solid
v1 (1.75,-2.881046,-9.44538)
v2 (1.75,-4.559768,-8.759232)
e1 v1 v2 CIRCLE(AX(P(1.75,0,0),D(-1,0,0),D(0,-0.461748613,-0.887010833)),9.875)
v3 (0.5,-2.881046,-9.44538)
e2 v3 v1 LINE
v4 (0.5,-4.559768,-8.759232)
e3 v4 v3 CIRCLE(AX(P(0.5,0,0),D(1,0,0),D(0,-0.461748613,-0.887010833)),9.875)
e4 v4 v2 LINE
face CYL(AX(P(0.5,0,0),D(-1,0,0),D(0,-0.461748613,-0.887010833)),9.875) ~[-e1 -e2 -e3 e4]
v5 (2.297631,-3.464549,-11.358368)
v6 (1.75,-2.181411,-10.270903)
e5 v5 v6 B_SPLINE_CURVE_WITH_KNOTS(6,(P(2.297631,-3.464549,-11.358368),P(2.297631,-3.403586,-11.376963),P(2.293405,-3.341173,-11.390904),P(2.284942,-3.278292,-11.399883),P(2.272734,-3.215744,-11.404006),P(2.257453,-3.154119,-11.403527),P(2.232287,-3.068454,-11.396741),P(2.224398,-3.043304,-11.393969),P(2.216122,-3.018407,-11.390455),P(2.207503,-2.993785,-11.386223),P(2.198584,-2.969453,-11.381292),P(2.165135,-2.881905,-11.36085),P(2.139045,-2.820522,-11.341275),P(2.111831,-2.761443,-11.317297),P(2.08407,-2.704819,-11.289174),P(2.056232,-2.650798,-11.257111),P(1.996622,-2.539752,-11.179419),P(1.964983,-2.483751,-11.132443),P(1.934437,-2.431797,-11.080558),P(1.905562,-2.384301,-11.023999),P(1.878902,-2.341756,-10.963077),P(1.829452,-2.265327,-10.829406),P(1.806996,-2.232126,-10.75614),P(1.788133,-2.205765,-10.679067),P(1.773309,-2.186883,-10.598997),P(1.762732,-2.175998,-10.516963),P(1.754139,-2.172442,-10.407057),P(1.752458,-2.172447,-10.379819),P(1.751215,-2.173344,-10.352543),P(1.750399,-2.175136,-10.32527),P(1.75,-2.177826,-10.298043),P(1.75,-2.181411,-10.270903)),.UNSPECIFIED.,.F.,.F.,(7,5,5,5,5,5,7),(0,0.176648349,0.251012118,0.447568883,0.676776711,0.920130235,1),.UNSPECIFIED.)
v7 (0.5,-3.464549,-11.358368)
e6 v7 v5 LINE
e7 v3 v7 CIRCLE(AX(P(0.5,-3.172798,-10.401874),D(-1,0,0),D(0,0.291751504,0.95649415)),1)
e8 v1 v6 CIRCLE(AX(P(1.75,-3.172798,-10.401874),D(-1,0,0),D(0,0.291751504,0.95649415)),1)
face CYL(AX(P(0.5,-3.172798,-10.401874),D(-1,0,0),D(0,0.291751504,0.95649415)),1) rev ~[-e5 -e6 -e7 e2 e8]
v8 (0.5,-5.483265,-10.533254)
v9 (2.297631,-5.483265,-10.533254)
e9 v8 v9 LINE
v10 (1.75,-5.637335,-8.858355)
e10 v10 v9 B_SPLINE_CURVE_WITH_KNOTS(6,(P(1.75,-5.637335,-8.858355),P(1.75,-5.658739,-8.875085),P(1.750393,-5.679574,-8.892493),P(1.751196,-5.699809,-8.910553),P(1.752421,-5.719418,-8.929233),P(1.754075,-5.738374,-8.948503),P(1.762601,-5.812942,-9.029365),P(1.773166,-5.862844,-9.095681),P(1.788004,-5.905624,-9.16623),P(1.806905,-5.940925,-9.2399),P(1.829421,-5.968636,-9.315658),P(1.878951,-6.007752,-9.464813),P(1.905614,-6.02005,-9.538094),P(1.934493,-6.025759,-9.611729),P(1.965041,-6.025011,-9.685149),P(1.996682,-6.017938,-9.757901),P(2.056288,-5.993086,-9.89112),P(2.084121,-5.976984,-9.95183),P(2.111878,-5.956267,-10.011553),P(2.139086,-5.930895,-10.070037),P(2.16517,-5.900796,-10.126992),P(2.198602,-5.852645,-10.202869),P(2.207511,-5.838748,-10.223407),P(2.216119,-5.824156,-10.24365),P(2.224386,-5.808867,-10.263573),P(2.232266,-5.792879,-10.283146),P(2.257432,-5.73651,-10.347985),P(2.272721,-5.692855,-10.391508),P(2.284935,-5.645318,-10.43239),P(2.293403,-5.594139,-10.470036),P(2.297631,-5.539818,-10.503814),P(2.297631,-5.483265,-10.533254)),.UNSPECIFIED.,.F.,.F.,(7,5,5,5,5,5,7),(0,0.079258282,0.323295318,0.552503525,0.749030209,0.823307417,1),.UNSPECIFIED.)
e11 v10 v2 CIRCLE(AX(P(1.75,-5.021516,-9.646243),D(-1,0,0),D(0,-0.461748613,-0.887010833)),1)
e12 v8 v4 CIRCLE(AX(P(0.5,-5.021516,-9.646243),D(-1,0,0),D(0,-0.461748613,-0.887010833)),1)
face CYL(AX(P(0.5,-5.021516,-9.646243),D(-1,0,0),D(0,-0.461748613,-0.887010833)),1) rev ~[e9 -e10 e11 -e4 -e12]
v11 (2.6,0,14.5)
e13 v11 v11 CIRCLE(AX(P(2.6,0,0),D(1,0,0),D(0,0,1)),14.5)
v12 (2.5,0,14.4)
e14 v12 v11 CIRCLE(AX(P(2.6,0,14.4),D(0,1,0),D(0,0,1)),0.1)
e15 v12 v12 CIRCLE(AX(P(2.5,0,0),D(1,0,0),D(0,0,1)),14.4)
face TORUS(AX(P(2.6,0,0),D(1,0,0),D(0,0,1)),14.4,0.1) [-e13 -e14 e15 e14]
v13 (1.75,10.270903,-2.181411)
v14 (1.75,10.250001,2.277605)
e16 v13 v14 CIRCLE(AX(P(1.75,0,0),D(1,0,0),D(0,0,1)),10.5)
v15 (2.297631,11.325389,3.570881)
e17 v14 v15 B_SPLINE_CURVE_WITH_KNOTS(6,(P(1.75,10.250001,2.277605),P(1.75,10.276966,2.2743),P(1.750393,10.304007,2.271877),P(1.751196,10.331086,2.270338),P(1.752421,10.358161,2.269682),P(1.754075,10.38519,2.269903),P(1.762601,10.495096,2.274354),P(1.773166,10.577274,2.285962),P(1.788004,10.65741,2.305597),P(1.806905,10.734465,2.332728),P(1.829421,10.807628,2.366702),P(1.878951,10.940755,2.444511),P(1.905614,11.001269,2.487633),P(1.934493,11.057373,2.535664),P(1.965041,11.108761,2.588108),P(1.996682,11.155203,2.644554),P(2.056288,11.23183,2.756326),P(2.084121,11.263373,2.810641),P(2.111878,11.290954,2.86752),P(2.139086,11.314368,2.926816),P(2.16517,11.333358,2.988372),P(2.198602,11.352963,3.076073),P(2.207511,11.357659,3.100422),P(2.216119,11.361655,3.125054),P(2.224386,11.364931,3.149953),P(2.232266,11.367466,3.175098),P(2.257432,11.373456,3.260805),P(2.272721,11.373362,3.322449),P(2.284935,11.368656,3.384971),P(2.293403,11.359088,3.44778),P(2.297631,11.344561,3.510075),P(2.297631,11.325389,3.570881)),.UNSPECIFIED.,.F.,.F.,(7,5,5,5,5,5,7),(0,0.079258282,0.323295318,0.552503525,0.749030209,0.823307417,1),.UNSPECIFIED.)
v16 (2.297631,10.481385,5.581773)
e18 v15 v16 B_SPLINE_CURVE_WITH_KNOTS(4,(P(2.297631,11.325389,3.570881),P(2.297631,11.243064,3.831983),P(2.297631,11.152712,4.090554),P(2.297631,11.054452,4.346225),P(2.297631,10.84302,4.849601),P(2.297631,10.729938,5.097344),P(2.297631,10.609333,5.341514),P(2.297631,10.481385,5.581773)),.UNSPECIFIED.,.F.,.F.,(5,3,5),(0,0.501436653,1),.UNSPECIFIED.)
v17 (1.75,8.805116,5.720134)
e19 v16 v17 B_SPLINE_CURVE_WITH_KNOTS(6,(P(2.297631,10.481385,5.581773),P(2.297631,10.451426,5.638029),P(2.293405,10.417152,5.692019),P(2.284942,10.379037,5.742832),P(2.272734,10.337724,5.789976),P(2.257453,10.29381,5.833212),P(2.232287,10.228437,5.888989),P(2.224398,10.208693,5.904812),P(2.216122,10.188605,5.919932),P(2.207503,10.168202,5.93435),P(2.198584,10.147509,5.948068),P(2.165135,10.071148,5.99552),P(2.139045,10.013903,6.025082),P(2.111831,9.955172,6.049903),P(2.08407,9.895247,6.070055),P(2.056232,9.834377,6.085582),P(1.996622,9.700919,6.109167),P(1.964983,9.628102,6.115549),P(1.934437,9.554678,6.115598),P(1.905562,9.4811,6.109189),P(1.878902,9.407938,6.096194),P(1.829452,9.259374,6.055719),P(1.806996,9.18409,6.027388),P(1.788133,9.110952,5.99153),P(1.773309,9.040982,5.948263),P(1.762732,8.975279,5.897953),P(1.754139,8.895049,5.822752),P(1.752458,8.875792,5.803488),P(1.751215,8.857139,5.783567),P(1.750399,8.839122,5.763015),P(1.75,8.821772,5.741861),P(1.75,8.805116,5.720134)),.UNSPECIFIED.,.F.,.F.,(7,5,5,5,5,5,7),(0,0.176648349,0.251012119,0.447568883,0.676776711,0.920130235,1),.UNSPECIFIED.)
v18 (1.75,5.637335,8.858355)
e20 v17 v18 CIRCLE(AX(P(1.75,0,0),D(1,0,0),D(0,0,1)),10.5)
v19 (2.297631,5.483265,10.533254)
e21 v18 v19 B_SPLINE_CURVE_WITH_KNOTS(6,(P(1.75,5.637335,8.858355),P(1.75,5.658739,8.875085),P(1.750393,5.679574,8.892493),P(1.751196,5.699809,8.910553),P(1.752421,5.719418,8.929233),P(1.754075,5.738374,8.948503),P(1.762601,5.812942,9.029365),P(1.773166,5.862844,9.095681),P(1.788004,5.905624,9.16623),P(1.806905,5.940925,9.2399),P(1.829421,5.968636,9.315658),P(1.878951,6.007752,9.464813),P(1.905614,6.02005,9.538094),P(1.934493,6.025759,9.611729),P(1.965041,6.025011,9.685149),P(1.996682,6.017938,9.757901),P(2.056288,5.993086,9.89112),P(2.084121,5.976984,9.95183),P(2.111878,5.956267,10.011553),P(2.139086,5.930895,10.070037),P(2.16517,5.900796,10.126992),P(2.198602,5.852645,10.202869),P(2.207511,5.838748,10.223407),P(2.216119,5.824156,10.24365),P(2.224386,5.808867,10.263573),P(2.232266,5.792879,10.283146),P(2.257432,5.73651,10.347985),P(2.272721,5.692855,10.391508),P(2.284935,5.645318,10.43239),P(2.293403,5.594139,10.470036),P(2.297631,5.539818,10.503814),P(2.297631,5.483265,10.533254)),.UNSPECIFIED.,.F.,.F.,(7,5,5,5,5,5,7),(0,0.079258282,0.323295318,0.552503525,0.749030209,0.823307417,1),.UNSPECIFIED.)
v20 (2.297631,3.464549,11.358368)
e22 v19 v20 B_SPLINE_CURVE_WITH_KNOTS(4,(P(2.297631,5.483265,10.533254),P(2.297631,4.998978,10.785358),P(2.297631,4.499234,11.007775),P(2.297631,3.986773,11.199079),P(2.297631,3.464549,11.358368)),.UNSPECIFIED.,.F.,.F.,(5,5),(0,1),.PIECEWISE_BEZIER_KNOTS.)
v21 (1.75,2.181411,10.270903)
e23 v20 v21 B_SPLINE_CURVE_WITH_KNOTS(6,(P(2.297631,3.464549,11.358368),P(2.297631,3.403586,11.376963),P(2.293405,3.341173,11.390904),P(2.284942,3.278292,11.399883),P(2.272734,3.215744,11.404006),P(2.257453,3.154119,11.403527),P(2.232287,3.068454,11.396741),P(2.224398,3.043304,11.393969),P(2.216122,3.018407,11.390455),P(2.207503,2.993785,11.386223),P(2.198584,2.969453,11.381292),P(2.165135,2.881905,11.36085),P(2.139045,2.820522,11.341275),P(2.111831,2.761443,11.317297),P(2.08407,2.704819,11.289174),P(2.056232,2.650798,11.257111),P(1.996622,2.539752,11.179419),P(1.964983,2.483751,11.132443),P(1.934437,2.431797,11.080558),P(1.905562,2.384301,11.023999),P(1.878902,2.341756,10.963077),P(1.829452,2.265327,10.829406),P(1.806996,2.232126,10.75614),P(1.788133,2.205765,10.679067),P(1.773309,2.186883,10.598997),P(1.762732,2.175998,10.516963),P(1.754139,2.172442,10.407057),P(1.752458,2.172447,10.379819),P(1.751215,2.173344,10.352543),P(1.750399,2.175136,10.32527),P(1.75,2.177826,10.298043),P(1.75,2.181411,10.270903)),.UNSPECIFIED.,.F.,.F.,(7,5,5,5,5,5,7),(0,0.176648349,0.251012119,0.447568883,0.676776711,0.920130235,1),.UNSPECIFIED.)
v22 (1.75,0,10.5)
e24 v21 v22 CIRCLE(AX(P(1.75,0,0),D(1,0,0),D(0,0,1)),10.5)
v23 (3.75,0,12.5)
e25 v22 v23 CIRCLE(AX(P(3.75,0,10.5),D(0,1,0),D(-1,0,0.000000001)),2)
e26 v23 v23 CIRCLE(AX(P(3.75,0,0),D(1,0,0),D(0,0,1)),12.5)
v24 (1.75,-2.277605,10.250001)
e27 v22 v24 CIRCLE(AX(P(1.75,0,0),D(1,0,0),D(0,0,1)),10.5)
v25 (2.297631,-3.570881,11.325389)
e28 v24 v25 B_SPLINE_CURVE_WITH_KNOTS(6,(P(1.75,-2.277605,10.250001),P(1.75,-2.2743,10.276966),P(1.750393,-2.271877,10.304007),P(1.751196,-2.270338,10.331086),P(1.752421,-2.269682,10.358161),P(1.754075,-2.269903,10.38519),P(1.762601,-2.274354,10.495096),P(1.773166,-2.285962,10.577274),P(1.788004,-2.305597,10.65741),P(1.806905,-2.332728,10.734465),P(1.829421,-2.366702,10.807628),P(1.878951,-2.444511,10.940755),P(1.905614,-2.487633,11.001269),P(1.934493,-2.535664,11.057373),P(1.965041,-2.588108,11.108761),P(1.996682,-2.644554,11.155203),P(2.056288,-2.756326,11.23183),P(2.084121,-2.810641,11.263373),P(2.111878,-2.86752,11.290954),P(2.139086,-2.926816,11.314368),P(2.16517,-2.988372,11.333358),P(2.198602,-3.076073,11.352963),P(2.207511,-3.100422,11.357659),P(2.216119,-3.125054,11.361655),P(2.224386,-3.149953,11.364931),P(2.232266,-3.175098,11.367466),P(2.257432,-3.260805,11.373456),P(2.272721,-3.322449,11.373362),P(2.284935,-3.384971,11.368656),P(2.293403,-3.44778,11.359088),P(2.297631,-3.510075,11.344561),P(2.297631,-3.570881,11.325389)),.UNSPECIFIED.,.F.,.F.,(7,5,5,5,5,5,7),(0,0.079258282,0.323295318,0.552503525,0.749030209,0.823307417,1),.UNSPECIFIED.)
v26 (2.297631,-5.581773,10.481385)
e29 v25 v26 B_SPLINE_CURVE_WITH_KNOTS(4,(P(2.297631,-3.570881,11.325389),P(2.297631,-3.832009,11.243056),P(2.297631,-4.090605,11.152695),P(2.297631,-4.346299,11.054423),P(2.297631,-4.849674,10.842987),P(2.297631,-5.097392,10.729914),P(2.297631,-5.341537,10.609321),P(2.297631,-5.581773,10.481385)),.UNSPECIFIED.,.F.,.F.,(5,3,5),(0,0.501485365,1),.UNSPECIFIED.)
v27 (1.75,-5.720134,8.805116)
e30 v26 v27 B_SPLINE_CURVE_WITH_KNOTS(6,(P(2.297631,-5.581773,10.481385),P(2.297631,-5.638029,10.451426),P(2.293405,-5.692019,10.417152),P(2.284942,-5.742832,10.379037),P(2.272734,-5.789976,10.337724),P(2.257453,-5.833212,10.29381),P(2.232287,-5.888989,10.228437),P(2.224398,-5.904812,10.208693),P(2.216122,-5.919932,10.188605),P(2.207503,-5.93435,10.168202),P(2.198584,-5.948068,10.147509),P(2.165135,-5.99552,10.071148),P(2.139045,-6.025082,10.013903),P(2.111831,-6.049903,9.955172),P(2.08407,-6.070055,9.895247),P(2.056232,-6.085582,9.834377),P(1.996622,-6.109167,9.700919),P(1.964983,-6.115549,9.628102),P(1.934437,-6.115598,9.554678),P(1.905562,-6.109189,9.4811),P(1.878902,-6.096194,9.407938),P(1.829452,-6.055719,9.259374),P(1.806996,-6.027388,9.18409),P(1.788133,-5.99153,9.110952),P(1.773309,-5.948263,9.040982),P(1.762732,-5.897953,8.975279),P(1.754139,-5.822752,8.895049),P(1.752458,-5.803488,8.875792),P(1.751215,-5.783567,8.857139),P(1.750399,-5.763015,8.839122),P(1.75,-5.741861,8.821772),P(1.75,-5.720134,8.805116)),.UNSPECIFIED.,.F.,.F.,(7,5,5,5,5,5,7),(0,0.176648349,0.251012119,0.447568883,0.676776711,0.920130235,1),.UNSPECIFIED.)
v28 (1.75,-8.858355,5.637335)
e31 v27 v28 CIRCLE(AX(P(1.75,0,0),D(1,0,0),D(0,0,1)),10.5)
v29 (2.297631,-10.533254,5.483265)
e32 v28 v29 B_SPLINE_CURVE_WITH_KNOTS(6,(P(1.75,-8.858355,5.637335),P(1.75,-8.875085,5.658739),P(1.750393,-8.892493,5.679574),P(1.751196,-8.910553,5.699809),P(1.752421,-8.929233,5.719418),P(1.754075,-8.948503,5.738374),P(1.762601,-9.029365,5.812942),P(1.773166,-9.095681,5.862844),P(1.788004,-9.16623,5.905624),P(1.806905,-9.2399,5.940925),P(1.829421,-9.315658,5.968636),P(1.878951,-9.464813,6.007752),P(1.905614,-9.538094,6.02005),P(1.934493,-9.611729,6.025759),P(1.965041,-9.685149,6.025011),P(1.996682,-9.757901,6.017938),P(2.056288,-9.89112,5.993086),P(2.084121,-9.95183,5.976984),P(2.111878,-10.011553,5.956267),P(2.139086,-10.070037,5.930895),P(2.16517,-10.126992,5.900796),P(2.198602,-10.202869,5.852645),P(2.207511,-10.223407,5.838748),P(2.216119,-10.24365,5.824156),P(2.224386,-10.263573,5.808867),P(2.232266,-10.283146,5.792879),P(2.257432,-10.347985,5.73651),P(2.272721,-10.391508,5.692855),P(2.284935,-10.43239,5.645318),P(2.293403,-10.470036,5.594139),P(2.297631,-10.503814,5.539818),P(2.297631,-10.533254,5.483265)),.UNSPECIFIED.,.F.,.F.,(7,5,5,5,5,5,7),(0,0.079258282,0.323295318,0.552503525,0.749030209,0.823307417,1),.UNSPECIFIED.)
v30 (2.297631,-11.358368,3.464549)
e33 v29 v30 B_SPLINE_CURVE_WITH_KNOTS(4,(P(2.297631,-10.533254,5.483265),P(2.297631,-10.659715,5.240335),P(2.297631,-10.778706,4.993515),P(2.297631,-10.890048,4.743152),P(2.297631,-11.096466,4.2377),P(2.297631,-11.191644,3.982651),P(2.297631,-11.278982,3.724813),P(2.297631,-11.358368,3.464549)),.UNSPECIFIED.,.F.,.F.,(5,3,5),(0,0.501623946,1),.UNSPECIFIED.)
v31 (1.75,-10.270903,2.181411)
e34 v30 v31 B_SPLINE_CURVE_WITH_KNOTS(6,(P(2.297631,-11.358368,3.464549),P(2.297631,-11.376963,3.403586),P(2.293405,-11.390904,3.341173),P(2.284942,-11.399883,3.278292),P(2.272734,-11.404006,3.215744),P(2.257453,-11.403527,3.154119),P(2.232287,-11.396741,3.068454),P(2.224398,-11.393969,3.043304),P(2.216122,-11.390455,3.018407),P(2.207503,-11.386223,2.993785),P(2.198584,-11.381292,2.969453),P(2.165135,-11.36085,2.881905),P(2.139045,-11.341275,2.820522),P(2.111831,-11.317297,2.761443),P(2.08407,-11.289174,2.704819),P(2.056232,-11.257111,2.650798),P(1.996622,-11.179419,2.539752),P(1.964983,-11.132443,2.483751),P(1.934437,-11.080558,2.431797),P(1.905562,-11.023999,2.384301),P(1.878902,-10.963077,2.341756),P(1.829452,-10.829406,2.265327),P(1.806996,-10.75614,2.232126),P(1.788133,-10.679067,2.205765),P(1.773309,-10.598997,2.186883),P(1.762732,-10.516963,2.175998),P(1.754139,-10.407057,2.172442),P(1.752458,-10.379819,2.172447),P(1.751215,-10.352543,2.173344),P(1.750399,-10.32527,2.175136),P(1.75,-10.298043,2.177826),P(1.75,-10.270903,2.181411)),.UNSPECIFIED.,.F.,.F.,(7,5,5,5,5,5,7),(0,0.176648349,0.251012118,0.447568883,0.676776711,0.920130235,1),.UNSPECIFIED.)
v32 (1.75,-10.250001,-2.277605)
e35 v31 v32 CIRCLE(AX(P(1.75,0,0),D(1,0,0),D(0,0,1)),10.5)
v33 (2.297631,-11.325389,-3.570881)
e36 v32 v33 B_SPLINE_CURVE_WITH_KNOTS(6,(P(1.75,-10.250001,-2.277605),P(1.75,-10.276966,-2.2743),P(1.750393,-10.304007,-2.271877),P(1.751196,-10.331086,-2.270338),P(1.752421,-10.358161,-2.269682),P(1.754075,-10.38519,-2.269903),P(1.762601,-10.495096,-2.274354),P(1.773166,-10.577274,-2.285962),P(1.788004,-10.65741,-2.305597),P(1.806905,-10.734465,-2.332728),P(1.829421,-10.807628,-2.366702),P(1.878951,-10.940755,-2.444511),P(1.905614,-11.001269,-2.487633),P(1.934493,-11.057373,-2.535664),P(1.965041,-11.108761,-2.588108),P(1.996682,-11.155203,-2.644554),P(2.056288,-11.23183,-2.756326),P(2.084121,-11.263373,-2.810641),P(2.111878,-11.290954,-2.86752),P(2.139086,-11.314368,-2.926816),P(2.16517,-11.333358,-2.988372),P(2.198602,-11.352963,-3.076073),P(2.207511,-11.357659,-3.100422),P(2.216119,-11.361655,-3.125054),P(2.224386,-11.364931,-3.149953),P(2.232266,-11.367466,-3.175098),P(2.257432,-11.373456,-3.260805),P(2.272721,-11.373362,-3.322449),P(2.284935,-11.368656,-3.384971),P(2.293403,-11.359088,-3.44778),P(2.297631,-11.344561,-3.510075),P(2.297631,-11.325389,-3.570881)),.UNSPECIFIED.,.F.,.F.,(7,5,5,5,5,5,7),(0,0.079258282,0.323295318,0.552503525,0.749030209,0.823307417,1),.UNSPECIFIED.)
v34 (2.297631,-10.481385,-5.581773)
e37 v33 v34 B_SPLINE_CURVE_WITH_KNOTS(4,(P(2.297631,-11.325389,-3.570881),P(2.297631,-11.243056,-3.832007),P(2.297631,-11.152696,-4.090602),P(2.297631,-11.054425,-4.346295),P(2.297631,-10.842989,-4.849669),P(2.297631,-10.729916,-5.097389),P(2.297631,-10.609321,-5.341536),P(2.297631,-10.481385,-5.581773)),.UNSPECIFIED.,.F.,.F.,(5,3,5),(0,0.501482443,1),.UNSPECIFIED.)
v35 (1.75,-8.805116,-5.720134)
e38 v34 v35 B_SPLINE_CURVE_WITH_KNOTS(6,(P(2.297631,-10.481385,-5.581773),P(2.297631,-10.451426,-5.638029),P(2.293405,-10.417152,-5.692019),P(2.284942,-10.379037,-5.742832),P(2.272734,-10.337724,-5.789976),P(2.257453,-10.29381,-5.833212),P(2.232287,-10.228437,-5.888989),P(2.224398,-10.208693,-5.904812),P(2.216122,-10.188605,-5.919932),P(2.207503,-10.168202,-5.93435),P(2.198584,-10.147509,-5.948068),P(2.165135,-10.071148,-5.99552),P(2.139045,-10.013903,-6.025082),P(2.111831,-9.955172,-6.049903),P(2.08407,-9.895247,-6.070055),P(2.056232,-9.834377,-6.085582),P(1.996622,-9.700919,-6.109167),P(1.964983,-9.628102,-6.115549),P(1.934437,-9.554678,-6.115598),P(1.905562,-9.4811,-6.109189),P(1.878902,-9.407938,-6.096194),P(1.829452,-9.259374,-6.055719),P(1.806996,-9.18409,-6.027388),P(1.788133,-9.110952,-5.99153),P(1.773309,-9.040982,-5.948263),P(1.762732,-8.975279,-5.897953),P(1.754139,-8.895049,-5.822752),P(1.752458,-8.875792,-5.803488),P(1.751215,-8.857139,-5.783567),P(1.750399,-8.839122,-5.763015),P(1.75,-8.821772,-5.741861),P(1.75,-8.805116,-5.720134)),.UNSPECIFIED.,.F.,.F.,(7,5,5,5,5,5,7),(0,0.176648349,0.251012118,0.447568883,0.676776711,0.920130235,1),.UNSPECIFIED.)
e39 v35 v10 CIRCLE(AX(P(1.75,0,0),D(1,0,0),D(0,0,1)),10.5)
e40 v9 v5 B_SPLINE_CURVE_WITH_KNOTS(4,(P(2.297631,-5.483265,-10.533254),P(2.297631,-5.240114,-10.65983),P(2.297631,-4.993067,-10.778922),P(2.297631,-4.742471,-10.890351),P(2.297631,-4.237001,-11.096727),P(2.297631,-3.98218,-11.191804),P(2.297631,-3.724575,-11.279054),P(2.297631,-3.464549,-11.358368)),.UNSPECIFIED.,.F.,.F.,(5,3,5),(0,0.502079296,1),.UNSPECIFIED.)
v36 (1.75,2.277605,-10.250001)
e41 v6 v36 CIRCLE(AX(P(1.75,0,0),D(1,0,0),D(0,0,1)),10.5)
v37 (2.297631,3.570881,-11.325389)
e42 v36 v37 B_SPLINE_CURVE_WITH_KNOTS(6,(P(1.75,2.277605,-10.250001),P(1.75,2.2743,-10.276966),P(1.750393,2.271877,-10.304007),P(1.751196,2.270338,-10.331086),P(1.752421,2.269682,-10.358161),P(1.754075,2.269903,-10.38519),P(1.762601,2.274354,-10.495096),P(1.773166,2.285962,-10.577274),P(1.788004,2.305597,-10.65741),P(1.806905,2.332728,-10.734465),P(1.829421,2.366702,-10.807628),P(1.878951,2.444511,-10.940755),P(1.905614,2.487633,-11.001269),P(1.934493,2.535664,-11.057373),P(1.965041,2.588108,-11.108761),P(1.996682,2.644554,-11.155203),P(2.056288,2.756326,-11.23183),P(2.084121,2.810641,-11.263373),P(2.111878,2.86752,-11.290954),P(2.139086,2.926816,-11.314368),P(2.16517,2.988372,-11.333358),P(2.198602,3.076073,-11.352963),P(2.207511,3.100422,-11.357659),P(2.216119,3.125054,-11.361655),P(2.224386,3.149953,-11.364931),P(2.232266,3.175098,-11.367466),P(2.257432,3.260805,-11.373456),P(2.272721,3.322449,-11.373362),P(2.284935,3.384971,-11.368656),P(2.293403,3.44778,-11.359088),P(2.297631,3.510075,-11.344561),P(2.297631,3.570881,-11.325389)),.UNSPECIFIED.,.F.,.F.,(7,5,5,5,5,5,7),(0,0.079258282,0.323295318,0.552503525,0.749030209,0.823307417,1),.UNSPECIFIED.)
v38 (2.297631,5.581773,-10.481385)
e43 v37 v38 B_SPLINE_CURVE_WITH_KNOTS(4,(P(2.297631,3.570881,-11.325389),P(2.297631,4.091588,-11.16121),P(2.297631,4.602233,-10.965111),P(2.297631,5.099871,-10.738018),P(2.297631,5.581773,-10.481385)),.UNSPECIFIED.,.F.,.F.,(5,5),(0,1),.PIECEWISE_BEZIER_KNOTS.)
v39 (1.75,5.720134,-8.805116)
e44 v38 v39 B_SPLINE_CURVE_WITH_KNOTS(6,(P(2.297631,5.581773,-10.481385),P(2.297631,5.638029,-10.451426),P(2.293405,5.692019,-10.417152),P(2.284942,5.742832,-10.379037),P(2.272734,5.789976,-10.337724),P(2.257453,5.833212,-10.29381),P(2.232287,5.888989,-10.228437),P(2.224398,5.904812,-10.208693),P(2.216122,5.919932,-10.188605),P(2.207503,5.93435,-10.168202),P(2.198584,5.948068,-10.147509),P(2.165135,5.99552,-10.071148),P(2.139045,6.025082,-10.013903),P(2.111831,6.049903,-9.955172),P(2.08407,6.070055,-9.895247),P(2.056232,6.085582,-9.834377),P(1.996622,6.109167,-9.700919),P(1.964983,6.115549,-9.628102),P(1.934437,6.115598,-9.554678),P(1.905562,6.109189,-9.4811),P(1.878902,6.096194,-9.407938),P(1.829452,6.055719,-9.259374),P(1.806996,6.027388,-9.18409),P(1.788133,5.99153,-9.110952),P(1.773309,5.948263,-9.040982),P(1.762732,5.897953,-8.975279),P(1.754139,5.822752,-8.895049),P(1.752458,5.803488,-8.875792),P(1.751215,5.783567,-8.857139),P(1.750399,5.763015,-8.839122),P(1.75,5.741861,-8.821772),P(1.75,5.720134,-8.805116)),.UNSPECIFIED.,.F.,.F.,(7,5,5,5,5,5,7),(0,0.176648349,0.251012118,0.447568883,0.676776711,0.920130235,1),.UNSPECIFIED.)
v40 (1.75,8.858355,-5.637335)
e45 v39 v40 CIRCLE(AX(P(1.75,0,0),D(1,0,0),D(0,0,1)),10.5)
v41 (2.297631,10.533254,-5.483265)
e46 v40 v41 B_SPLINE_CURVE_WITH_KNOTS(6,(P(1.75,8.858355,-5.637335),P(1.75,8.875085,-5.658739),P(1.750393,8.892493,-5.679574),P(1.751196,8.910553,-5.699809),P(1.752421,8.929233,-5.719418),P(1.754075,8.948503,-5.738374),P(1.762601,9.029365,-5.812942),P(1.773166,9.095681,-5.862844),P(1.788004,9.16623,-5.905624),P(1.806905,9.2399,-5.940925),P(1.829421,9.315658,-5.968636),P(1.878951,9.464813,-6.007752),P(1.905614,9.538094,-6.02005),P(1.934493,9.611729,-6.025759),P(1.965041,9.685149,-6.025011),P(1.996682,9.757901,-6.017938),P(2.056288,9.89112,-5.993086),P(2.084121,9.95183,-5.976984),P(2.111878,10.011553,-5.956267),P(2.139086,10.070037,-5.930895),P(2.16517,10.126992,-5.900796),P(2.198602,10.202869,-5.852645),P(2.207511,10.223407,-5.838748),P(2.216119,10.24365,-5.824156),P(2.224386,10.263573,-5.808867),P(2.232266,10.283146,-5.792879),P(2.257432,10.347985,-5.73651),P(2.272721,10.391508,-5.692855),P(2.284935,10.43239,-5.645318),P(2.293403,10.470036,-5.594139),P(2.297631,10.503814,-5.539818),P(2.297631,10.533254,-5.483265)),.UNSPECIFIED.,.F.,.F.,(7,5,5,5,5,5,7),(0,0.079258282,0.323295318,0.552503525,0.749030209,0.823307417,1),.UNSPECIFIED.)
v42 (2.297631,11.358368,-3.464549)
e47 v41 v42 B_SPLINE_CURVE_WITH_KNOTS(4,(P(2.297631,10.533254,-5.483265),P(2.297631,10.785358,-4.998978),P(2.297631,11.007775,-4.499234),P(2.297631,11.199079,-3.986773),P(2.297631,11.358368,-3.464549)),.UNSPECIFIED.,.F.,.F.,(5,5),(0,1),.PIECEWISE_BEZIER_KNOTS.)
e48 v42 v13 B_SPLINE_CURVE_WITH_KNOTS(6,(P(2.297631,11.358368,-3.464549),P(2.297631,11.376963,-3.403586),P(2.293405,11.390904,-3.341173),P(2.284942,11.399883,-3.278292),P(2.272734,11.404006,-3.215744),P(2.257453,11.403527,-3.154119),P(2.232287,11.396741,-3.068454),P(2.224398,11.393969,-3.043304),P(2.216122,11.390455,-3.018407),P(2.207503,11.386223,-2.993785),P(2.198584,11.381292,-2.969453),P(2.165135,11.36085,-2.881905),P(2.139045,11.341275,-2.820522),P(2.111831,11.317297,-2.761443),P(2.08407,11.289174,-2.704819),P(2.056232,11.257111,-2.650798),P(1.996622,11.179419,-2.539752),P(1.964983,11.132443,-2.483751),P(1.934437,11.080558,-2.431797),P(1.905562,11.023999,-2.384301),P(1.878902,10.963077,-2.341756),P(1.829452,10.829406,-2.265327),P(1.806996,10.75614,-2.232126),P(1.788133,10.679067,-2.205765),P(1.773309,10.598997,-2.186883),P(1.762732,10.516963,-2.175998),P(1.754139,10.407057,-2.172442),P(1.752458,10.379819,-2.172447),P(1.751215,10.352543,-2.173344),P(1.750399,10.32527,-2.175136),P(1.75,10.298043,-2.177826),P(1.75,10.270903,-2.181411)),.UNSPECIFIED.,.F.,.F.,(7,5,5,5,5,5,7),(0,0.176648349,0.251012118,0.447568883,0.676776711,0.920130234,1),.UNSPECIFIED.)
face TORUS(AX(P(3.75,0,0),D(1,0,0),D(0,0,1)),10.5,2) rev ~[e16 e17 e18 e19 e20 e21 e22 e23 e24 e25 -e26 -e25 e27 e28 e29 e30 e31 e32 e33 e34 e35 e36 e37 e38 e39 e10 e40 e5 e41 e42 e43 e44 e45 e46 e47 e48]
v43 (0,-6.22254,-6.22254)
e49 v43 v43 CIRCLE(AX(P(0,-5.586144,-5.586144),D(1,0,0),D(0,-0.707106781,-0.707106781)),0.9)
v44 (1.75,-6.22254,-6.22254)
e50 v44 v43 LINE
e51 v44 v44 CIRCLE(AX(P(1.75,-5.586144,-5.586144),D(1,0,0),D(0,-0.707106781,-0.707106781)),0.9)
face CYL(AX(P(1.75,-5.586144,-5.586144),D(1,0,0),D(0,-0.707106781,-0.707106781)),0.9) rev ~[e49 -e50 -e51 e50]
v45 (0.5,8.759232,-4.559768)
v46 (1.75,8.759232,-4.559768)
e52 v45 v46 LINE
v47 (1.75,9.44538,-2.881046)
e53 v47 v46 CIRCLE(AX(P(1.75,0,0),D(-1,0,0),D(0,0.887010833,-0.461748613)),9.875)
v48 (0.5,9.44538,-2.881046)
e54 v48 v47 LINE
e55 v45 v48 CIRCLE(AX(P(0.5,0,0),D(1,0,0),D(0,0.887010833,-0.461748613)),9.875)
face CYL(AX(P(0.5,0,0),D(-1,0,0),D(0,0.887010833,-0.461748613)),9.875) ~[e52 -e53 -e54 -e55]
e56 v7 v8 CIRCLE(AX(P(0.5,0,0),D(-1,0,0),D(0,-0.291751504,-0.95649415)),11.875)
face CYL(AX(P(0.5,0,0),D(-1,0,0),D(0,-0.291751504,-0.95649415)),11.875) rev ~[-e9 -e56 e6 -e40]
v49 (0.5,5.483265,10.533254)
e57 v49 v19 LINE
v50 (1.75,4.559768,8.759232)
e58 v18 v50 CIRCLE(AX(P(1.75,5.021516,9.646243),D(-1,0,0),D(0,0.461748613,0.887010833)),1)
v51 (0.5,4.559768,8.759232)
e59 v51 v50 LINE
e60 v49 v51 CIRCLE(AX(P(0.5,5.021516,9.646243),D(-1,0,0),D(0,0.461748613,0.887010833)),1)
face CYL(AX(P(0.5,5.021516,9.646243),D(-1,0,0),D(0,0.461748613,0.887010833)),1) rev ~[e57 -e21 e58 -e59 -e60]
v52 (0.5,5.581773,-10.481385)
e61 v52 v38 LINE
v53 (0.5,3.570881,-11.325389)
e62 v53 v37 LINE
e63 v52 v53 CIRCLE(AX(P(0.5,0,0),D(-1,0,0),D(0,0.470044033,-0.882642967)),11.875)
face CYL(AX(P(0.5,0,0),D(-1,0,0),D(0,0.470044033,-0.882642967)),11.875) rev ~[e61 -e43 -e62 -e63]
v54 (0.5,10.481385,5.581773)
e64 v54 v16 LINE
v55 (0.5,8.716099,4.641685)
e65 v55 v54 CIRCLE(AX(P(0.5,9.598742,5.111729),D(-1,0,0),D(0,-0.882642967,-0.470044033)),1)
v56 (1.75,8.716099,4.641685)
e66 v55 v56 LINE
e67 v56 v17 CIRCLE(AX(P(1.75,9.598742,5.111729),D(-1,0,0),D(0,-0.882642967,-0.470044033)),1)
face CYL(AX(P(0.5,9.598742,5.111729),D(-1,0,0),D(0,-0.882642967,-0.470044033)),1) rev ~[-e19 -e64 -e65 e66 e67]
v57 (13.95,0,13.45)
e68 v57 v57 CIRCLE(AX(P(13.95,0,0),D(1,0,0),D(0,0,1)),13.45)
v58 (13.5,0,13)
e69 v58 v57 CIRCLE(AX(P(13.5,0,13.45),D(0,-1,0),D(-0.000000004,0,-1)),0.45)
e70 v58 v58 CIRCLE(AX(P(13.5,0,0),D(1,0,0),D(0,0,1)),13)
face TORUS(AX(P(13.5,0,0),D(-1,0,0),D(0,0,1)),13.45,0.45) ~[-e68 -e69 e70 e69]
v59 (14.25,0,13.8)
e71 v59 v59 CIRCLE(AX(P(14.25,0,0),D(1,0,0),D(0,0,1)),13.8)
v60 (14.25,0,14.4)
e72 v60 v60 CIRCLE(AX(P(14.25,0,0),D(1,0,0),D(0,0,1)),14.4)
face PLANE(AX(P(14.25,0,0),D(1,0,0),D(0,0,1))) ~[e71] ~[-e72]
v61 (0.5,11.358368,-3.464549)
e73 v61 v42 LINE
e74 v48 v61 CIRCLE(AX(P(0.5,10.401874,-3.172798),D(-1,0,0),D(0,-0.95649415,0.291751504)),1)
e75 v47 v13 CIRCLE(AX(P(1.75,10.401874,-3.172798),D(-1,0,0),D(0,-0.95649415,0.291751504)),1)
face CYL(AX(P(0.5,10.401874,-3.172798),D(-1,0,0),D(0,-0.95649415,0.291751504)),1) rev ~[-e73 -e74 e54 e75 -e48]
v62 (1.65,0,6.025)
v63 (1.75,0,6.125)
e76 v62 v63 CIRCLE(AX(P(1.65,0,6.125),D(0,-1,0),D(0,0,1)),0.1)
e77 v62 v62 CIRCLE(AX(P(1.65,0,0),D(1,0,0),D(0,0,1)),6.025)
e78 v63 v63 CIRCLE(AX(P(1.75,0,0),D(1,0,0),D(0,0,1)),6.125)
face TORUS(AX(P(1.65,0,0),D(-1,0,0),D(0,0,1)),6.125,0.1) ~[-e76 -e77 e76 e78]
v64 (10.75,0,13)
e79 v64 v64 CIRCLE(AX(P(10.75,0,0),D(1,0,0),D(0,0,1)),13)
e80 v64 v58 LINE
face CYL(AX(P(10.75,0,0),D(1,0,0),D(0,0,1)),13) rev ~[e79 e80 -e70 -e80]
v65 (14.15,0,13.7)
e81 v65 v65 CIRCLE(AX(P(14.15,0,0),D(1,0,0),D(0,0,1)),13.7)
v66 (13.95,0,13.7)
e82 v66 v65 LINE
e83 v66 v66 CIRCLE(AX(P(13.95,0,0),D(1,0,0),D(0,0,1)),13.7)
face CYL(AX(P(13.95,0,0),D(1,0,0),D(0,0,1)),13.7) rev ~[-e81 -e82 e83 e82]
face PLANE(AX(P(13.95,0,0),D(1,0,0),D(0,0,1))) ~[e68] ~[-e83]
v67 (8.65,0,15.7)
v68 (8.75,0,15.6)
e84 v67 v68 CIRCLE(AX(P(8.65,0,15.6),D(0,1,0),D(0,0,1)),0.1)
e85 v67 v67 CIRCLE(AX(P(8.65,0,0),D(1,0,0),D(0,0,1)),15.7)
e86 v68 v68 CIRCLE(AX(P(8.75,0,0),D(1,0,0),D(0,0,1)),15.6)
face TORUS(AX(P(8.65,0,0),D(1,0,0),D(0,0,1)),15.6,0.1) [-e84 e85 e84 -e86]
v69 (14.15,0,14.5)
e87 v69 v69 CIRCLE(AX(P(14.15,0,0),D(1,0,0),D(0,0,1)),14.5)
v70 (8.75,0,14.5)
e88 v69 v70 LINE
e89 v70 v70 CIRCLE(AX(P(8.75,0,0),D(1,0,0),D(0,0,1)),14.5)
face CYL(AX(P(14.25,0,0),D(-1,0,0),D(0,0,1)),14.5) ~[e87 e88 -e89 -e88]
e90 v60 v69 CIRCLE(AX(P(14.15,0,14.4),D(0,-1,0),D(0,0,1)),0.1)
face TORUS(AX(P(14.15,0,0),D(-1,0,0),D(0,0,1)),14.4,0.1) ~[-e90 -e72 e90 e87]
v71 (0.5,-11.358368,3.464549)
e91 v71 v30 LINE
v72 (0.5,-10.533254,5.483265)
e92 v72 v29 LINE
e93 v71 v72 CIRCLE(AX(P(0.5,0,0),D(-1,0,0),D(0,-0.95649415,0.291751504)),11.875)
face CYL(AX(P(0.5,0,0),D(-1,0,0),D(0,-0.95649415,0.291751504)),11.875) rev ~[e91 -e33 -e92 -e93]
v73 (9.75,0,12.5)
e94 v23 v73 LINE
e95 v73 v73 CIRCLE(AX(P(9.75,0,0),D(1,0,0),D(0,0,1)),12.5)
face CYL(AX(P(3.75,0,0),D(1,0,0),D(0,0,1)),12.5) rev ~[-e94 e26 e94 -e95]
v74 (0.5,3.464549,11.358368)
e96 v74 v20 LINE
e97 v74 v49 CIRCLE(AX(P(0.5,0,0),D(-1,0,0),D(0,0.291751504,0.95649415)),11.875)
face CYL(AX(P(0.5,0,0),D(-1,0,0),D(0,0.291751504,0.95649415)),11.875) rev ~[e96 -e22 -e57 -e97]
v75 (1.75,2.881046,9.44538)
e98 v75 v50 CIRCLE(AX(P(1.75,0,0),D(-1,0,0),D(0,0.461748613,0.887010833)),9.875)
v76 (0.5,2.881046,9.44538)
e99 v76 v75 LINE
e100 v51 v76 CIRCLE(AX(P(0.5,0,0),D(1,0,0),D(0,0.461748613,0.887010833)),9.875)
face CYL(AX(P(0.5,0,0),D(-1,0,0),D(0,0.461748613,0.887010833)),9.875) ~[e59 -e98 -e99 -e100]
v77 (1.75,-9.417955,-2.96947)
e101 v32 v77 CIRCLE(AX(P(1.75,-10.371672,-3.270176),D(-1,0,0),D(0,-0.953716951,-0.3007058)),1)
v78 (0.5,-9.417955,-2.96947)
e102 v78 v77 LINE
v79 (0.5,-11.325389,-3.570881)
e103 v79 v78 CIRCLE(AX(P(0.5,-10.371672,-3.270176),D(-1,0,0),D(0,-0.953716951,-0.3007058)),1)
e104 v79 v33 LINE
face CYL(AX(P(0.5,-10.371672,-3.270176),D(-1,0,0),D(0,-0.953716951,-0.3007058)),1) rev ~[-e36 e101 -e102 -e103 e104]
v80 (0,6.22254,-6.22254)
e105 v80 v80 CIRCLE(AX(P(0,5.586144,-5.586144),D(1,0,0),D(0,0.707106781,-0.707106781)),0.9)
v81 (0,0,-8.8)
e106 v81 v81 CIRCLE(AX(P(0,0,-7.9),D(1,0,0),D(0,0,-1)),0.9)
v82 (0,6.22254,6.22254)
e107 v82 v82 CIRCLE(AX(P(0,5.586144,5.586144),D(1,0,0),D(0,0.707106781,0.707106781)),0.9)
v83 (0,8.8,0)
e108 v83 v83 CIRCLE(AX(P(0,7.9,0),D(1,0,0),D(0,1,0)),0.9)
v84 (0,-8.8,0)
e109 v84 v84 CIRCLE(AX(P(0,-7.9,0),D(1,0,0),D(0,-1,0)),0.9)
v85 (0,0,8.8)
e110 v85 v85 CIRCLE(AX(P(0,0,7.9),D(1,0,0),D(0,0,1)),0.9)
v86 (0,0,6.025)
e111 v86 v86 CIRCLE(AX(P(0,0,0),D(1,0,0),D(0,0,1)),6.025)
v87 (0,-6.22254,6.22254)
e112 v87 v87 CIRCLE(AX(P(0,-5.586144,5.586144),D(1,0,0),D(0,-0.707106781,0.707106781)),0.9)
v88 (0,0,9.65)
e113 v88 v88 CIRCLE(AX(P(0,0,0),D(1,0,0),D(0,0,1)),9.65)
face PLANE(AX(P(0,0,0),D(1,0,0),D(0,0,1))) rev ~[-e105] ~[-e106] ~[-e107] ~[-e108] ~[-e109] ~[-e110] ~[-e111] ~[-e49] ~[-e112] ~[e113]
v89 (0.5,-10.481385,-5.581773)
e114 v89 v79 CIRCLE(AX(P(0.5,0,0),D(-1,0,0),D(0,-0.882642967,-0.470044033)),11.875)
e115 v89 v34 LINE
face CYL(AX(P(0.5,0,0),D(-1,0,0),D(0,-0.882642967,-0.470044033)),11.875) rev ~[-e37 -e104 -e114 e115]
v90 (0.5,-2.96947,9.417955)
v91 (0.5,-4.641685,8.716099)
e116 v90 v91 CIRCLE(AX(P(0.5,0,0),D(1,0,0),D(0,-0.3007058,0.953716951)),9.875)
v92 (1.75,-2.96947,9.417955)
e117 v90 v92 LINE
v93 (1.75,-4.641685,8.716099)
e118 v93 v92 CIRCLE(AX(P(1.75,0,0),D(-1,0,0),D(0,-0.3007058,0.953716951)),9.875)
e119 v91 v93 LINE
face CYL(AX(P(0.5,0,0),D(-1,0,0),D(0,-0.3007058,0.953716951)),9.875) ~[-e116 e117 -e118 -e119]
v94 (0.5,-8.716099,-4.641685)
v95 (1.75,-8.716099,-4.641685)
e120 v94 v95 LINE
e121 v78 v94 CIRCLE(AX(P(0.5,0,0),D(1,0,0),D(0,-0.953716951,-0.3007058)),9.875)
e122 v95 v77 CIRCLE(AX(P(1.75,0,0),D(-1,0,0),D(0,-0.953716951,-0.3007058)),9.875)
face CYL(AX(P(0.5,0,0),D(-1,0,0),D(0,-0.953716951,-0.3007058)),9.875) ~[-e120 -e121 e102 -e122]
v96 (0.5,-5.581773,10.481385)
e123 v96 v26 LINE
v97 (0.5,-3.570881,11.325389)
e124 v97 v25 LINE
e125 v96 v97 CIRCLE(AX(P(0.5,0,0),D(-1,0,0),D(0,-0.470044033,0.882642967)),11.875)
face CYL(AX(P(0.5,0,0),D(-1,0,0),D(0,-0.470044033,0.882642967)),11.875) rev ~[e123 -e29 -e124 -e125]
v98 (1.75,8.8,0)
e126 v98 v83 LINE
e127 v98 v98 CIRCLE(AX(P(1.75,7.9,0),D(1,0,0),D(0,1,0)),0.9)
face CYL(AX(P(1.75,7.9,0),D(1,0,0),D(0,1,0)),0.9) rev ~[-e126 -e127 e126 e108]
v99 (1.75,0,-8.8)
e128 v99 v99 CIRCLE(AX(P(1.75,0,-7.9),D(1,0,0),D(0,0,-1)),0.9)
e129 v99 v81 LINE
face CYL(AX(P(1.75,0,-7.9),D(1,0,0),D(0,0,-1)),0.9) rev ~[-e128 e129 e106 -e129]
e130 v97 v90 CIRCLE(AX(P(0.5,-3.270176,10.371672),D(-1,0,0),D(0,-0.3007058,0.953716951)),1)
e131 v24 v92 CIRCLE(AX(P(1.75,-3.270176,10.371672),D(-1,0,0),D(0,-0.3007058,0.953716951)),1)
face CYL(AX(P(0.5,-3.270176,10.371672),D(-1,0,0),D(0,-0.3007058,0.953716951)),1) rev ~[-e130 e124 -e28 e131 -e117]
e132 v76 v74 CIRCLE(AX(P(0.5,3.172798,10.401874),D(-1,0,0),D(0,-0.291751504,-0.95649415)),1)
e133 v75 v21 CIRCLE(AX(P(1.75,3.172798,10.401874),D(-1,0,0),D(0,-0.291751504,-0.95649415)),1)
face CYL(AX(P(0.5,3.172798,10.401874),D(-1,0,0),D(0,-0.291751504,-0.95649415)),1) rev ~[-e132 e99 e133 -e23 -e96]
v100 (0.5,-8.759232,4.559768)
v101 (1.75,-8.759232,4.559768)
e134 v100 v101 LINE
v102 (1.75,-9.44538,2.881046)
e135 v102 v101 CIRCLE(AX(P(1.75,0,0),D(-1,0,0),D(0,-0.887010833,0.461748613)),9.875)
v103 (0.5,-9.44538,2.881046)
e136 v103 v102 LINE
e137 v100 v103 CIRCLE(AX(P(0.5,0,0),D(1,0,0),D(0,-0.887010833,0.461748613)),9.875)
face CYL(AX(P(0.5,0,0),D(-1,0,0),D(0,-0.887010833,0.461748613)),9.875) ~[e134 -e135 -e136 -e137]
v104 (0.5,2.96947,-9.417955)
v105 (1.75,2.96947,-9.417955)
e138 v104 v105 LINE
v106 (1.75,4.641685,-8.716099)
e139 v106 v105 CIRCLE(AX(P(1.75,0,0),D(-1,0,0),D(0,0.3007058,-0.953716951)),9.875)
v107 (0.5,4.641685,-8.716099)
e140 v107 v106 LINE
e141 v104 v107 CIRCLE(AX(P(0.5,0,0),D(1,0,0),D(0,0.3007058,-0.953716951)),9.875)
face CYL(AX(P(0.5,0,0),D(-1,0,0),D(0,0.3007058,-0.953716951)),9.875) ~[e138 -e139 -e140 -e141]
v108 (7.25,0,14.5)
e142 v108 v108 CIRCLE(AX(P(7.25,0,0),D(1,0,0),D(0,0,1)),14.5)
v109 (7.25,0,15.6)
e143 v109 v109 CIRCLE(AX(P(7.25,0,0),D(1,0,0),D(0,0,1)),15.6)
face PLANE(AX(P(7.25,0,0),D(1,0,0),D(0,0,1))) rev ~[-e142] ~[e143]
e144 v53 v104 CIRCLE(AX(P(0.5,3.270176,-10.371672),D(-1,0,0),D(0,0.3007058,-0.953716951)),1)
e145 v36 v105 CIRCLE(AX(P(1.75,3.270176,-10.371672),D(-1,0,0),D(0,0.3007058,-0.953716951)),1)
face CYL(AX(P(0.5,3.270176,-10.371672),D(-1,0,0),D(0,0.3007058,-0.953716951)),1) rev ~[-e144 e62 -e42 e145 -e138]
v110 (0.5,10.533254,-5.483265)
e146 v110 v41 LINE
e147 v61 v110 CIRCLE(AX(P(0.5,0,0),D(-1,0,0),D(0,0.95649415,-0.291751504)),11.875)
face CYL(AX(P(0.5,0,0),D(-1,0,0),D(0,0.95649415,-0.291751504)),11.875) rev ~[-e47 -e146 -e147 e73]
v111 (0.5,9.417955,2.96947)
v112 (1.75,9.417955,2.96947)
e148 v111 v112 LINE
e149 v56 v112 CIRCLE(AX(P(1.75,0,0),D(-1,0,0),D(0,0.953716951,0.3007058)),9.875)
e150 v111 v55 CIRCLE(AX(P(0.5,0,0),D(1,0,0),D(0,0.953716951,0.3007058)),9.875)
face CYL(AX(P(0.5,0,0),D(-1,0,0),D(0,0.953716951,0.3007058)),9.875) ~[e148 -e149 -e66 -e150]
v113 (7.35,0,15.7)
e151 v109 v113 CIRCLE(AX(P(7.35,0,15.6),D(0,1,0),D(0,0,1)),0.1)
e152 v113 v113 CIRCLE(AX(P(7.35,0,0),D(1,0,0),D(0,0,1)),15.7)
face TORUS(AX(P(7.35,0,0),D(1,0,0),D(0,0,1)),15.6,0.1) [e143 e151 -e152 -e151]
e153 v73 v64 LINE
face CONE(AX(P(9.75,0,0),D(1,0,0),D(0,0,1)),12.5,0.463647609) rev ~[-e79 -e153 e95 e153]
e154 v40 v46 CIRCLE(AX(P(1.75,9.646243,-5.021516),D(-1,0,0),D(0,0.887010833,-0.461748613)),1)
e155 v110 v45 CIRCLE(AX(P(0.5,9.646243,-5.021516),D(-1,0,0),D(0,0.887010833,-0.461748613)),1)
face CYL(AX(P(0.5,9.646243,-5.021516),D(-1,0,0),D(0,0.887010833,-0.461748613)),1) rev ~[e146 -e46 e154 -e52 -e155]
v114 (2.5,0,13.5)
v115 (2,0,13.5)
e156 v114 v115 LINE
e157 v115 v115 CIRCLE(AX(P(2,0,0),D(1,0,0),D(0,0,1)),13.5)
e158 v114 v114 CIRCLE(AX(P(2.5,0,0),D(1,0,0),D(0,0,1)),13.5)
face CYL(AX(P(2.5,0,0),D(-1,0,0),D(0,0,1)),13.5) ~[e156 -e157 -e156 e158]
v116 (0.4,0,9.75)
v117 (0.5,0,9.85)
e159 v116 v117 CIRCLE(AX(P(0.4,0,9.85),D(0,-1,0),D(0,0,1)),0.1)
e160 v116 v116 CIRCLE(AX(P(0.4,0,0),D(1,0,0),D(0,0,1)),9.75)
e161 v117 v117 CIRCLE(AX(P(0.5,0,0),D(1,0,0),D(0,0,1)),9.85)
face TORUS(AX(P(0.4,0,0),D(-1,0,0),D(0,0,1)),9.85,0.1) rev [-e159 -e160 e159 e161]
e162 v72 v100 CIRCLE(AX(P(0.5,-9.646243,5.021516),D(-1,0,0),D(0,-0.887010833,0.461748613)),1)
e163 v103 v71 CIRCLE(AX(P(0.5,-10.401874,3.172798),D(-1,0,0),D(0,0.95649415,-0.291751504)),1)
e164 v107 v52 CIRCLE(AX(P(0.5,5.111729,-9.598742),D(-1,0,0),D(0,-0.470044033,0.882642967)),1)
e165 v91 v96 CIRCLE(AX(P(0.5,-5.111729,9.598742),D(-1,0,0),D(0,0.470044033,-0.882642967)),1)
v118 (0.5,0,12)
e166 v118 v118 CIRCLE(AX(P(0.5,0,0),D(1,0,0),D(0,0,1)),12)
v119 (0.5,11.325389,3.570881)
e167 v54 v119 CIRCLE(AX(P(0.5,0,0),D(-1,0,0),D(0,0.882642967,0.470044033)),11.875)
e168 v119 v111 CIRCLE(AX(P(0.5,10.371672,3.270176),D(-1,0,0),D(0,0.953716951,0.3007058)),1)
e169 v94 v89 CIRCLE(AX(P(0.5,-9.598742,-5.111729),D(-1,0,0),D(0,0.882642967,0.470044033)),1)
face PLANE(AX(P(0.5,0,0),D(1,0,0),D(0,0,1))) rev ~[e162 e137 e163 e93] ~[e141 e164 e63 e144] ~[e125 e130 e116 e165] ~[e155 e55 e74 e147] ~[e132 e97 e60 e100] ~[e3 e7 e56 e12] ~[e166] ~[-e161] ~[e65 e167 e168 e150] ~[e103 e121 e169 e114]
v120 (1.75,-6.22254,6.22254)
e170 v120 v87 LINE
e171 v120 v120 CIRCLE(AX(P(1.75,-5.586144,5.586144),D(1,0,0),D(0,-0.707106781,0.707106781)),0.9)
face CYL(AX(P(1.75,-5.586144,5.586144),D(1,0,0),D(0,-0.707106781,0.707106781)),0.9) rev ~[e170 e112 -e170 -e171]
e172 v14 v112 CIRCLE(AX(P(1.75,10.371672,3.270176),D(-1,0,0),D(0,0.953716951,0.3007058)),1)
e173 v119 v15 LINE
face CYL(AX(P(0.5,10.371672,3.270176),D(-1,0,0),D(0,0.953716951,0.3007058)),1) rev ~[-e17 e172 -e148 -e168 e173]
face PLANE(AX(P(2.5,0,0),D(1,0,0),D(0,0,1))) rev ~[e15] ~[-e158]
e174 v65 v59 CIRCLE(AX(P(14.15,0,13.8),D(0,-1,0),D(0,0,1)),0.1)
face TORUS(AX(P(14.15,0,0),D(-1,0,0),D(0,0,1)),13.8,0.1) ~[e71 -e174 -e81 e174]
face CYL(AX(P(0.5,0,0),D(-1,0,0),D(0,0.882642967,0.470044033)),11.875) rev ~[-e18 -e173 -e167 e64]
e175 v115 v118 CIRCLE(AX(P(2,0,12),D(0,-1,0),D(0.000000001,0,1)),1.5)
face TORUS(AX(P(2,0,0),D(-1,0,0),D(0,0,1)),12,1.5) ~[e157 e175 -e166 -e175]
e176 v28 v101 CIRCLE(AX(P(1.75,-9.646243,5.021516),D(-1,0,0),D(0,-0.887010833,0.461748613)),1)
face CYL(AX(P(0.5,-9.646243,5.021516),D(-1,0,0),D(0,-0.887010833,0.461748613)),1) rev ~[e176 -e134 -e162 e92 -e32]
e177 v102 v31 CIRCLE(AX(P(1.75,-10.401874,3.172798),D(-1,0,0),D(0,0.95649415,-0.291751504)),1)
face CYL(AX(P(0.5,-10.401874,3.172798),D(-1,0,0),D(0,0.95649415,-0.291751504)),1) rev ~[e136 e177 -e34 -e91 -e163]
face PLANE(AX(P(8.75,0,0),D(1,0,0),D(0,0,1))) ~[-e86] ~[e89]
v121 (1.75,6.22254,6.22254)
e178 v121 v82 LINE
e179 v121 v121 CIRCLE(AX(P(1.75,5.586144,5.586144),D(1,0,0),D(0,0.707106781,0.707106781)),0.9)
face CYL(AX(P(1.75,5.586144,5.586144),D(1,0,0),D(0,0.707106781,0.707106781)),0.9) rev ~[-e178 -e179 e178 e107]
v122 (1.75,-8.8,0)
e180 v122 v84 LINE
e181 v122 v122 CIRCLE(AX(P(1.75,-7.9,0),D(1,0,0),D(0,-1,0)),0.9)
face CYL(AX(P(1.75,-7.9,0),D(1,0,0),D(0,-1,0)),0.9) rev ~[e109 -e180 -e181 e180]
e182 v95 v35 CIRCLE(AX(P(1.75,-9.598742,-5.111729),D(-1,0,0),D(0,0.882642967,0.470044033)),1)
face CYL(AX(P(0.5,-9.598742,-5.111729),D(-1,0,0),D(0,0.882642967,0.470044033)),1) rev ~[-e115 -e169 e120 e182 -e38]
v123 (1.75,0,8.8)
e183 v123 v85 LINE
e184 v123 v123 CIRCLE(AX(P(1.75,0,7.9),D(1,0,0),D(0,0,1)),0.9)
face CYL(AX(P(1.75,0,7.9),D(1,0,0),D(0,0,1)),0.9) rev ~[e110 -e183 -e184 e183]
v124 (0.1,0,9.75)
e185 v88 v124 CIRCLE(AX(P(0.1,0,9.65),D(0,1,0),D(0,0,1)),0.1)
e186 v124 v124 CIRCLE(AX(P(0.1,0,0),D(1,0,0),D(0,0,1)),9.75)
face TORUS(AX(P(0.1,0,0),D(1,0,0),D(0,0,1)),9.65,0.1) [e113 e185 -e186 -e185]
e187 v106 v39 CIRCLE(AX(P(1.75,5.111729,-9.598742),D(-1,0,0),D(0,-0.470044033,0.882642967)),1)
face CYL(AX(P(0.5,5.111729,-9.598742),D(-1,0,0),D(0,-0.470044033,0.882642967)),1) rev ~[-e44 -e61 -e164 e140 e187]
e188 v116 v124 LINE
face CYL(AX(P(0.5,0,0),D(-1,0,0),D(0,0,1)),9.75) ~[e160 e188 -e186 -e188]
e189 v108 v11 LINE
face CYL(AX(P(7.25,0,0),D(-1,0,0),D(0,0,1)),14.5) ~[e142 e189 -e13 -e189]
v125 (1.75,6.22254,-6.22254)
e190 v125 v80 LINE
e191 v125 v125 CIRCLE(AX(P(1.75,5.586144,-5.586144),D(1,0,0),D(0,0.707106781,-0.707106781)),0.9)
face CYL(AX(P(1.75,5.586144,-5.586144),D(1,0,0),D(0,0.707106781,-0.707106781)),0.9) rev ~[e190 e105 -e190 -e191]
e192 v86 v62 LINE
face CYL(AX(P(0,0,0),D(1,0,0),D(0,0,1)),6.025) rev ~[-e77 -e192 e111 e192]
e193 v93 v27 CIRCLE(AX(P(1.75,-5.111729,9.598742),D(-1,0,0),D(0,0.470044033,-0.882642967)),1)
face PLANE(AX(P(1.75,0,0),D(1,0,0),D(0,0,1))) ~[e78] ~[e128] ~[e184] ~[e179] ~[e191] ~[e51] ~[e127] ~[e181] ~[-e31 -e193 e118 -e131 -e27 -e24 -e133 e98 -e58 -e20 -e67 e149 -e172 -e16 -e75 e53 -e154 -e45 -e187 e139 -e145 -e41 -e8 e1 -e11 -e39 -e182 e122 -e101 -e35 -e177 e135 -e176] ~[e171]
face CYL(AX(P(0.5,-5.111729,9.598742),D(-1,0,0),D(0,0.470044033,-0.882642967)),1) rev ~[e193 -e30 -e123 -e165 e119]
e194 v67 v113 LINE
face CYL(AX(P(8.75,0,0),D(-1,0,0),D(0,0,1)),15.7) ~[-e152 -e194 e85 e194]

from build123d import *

# Parameters (mm, degrees)
ESQUISSE2_R                  = 0.9
TROU_MOYEU_DEPTH             = 2.75
REP_TROUS_MOYEU_COUNT        = 8
RAINURE_AERATION_DEPTH       = 14.75
R_P_TITION_CIRCULAIRE2_COUNT = 8
CONGES_R                     = 0.1


with BuildPart() as part:
    # Esquisse1 → rev_jante (revolve)
    with BuildSketch(Plane.XY, mode=Mode.PRIVATE) as rev_jante_sk:
        with BuildLine():
            Line((0, 6.025), (1.75, 6.025))
            Line((1.75, 6.025), (1.75, 10.5))
            ThreePointArc((1.75, 10.5), (2.335786438, 11.914213562), (3.75, 12.5))
            Line((3.75, 12.5), (9.75, 12.5))
            Line((9.75, 12.5), (10.75, 13))
            Line((10.75, 13), (13.5, 13))
            ThreePointArc((13.5, 13), (13.818198052, 13.131801948), (13.95, 13.45))
            Line((13.95, 13.45), (13.95, 13.7))
            Line((13.95, 13.7), (14.25, 13.7))
            Line((14.25, 13.7), (14.25, 14.5))
            Line((14.25, 14.5), (8.75, 14.5))
            Line((8.75, 14.5), (8.75, 15.7))
            Line((8.75, 15.7), (7.25, 15.7))
            Line((7.25, 15.7), (7.25, 14.5))
            Line((7.25, 14.5), (2.5, 14.5))
            Line((2.5, 14.5), (2.5, 13.5))
            Line((2.5, 13.5), (2, 13.5))
            ThreePointArc((2, 13.5), (0.939339828, 13.060660172), (0.5, 12))
            Line((0.5, 12), (0.5, 9.75))
            Line((0.5, 9.75), (0, 9.75))
            Line((0, 9.75), (0, 6.025))
        make_face()
    revolve(rev_jante_sk.sketch.rotate(Axis((0, 0, 0), (1, 0, 0)), 90), axis=Axis((0, 0, 0), (1, 0, 0)))  # turned: the seam where the file's is

    # Esquisse2 → trou_moyeu (cut, through all)
    with BuildSketch(Plane(origin=(1.75, 0, 0), x_dir=(0, 0, -1), z_dir=(1, 0, 0))):
        with Locations((7.9, 0)):
            Circle(ESQUISSE2_R)
    trou_moyeu = extrude(amount=-TROU_MOYEU_DEPTH, mode=Mode.SUBTRACT)

    # rep_trous_moyeu: trou_moyeu ×8 about axis
    rep_trous_moyeu_axis = Axis((0, 0, 0), (1, 0, 0))
    for i in range(1, REP_TROUS_MOYEU_COUNT):
        add(trou_moyeu.rotate(rep_trous_moyeu_axis, i * 360 / REP_TROUS_MOYEU_COUNT), mode=Mode.SUBTRACT)

    # Esquisse4 → rainure_aeration (cut, through all)
    with BuildSketch(Plane.ZY.offset(-0.5)):
        with BuildLine():
            ThreePointArc((5.581772892, 10.481385232), (4.595743194, 10.949647003), (3.570881369, 11.32538879))
            ThreePointArc((3.570881369, 11.32538879), (2.316458619, 10.672377639), (2.96946977, 9.417954889))
            ThreePointArc((2.96946977, 9.417954889), (3.821723288, 9.105495929), (4.641684826, 8.716099298))
            ThreePointArc((4.641684826, 8.716099298), (5.994371826, 9.128698232), (5.581772892, 10.481385232))
        make_face()
    rainure_aeration = extrude(amount=-RAINURE_AERATION_DEPTH, mode=Mode.SUBTRACT)

    # Répétition circulaire2: rainure_aeration ×8 about axis
    r_p_tition_circulaire2_axis = Axis((0, 0, 0), (1, 0, 0))
    for i in range(1, R_P_TITION_CIRCULAIRE2_COUNT):
        add(rainure_aeration.rotate(r_p_tition_circulaire2_axis, i * 360 / R_P_TITION_CIRCULAIRE2_COUNT), mode=Mode.SUBTRACT)

    # conges
    conges_edges = [part.edges().sort_by_distance(p)[0] for p in [
        (1.75, 0, -6.025),
        (14.25, 0, -13.7),
        (14.25, 0, -14.5),
        (8.75, 0, -15.7),
        (7.25, 0, -15.7),
        (2.5, 0, -14.5),
        (0.5, 0, -9.75),
        (0, 0, -9.75),
    ]]
    fillet(conges_edges, radius=CONGES_R)


solid = part.part
